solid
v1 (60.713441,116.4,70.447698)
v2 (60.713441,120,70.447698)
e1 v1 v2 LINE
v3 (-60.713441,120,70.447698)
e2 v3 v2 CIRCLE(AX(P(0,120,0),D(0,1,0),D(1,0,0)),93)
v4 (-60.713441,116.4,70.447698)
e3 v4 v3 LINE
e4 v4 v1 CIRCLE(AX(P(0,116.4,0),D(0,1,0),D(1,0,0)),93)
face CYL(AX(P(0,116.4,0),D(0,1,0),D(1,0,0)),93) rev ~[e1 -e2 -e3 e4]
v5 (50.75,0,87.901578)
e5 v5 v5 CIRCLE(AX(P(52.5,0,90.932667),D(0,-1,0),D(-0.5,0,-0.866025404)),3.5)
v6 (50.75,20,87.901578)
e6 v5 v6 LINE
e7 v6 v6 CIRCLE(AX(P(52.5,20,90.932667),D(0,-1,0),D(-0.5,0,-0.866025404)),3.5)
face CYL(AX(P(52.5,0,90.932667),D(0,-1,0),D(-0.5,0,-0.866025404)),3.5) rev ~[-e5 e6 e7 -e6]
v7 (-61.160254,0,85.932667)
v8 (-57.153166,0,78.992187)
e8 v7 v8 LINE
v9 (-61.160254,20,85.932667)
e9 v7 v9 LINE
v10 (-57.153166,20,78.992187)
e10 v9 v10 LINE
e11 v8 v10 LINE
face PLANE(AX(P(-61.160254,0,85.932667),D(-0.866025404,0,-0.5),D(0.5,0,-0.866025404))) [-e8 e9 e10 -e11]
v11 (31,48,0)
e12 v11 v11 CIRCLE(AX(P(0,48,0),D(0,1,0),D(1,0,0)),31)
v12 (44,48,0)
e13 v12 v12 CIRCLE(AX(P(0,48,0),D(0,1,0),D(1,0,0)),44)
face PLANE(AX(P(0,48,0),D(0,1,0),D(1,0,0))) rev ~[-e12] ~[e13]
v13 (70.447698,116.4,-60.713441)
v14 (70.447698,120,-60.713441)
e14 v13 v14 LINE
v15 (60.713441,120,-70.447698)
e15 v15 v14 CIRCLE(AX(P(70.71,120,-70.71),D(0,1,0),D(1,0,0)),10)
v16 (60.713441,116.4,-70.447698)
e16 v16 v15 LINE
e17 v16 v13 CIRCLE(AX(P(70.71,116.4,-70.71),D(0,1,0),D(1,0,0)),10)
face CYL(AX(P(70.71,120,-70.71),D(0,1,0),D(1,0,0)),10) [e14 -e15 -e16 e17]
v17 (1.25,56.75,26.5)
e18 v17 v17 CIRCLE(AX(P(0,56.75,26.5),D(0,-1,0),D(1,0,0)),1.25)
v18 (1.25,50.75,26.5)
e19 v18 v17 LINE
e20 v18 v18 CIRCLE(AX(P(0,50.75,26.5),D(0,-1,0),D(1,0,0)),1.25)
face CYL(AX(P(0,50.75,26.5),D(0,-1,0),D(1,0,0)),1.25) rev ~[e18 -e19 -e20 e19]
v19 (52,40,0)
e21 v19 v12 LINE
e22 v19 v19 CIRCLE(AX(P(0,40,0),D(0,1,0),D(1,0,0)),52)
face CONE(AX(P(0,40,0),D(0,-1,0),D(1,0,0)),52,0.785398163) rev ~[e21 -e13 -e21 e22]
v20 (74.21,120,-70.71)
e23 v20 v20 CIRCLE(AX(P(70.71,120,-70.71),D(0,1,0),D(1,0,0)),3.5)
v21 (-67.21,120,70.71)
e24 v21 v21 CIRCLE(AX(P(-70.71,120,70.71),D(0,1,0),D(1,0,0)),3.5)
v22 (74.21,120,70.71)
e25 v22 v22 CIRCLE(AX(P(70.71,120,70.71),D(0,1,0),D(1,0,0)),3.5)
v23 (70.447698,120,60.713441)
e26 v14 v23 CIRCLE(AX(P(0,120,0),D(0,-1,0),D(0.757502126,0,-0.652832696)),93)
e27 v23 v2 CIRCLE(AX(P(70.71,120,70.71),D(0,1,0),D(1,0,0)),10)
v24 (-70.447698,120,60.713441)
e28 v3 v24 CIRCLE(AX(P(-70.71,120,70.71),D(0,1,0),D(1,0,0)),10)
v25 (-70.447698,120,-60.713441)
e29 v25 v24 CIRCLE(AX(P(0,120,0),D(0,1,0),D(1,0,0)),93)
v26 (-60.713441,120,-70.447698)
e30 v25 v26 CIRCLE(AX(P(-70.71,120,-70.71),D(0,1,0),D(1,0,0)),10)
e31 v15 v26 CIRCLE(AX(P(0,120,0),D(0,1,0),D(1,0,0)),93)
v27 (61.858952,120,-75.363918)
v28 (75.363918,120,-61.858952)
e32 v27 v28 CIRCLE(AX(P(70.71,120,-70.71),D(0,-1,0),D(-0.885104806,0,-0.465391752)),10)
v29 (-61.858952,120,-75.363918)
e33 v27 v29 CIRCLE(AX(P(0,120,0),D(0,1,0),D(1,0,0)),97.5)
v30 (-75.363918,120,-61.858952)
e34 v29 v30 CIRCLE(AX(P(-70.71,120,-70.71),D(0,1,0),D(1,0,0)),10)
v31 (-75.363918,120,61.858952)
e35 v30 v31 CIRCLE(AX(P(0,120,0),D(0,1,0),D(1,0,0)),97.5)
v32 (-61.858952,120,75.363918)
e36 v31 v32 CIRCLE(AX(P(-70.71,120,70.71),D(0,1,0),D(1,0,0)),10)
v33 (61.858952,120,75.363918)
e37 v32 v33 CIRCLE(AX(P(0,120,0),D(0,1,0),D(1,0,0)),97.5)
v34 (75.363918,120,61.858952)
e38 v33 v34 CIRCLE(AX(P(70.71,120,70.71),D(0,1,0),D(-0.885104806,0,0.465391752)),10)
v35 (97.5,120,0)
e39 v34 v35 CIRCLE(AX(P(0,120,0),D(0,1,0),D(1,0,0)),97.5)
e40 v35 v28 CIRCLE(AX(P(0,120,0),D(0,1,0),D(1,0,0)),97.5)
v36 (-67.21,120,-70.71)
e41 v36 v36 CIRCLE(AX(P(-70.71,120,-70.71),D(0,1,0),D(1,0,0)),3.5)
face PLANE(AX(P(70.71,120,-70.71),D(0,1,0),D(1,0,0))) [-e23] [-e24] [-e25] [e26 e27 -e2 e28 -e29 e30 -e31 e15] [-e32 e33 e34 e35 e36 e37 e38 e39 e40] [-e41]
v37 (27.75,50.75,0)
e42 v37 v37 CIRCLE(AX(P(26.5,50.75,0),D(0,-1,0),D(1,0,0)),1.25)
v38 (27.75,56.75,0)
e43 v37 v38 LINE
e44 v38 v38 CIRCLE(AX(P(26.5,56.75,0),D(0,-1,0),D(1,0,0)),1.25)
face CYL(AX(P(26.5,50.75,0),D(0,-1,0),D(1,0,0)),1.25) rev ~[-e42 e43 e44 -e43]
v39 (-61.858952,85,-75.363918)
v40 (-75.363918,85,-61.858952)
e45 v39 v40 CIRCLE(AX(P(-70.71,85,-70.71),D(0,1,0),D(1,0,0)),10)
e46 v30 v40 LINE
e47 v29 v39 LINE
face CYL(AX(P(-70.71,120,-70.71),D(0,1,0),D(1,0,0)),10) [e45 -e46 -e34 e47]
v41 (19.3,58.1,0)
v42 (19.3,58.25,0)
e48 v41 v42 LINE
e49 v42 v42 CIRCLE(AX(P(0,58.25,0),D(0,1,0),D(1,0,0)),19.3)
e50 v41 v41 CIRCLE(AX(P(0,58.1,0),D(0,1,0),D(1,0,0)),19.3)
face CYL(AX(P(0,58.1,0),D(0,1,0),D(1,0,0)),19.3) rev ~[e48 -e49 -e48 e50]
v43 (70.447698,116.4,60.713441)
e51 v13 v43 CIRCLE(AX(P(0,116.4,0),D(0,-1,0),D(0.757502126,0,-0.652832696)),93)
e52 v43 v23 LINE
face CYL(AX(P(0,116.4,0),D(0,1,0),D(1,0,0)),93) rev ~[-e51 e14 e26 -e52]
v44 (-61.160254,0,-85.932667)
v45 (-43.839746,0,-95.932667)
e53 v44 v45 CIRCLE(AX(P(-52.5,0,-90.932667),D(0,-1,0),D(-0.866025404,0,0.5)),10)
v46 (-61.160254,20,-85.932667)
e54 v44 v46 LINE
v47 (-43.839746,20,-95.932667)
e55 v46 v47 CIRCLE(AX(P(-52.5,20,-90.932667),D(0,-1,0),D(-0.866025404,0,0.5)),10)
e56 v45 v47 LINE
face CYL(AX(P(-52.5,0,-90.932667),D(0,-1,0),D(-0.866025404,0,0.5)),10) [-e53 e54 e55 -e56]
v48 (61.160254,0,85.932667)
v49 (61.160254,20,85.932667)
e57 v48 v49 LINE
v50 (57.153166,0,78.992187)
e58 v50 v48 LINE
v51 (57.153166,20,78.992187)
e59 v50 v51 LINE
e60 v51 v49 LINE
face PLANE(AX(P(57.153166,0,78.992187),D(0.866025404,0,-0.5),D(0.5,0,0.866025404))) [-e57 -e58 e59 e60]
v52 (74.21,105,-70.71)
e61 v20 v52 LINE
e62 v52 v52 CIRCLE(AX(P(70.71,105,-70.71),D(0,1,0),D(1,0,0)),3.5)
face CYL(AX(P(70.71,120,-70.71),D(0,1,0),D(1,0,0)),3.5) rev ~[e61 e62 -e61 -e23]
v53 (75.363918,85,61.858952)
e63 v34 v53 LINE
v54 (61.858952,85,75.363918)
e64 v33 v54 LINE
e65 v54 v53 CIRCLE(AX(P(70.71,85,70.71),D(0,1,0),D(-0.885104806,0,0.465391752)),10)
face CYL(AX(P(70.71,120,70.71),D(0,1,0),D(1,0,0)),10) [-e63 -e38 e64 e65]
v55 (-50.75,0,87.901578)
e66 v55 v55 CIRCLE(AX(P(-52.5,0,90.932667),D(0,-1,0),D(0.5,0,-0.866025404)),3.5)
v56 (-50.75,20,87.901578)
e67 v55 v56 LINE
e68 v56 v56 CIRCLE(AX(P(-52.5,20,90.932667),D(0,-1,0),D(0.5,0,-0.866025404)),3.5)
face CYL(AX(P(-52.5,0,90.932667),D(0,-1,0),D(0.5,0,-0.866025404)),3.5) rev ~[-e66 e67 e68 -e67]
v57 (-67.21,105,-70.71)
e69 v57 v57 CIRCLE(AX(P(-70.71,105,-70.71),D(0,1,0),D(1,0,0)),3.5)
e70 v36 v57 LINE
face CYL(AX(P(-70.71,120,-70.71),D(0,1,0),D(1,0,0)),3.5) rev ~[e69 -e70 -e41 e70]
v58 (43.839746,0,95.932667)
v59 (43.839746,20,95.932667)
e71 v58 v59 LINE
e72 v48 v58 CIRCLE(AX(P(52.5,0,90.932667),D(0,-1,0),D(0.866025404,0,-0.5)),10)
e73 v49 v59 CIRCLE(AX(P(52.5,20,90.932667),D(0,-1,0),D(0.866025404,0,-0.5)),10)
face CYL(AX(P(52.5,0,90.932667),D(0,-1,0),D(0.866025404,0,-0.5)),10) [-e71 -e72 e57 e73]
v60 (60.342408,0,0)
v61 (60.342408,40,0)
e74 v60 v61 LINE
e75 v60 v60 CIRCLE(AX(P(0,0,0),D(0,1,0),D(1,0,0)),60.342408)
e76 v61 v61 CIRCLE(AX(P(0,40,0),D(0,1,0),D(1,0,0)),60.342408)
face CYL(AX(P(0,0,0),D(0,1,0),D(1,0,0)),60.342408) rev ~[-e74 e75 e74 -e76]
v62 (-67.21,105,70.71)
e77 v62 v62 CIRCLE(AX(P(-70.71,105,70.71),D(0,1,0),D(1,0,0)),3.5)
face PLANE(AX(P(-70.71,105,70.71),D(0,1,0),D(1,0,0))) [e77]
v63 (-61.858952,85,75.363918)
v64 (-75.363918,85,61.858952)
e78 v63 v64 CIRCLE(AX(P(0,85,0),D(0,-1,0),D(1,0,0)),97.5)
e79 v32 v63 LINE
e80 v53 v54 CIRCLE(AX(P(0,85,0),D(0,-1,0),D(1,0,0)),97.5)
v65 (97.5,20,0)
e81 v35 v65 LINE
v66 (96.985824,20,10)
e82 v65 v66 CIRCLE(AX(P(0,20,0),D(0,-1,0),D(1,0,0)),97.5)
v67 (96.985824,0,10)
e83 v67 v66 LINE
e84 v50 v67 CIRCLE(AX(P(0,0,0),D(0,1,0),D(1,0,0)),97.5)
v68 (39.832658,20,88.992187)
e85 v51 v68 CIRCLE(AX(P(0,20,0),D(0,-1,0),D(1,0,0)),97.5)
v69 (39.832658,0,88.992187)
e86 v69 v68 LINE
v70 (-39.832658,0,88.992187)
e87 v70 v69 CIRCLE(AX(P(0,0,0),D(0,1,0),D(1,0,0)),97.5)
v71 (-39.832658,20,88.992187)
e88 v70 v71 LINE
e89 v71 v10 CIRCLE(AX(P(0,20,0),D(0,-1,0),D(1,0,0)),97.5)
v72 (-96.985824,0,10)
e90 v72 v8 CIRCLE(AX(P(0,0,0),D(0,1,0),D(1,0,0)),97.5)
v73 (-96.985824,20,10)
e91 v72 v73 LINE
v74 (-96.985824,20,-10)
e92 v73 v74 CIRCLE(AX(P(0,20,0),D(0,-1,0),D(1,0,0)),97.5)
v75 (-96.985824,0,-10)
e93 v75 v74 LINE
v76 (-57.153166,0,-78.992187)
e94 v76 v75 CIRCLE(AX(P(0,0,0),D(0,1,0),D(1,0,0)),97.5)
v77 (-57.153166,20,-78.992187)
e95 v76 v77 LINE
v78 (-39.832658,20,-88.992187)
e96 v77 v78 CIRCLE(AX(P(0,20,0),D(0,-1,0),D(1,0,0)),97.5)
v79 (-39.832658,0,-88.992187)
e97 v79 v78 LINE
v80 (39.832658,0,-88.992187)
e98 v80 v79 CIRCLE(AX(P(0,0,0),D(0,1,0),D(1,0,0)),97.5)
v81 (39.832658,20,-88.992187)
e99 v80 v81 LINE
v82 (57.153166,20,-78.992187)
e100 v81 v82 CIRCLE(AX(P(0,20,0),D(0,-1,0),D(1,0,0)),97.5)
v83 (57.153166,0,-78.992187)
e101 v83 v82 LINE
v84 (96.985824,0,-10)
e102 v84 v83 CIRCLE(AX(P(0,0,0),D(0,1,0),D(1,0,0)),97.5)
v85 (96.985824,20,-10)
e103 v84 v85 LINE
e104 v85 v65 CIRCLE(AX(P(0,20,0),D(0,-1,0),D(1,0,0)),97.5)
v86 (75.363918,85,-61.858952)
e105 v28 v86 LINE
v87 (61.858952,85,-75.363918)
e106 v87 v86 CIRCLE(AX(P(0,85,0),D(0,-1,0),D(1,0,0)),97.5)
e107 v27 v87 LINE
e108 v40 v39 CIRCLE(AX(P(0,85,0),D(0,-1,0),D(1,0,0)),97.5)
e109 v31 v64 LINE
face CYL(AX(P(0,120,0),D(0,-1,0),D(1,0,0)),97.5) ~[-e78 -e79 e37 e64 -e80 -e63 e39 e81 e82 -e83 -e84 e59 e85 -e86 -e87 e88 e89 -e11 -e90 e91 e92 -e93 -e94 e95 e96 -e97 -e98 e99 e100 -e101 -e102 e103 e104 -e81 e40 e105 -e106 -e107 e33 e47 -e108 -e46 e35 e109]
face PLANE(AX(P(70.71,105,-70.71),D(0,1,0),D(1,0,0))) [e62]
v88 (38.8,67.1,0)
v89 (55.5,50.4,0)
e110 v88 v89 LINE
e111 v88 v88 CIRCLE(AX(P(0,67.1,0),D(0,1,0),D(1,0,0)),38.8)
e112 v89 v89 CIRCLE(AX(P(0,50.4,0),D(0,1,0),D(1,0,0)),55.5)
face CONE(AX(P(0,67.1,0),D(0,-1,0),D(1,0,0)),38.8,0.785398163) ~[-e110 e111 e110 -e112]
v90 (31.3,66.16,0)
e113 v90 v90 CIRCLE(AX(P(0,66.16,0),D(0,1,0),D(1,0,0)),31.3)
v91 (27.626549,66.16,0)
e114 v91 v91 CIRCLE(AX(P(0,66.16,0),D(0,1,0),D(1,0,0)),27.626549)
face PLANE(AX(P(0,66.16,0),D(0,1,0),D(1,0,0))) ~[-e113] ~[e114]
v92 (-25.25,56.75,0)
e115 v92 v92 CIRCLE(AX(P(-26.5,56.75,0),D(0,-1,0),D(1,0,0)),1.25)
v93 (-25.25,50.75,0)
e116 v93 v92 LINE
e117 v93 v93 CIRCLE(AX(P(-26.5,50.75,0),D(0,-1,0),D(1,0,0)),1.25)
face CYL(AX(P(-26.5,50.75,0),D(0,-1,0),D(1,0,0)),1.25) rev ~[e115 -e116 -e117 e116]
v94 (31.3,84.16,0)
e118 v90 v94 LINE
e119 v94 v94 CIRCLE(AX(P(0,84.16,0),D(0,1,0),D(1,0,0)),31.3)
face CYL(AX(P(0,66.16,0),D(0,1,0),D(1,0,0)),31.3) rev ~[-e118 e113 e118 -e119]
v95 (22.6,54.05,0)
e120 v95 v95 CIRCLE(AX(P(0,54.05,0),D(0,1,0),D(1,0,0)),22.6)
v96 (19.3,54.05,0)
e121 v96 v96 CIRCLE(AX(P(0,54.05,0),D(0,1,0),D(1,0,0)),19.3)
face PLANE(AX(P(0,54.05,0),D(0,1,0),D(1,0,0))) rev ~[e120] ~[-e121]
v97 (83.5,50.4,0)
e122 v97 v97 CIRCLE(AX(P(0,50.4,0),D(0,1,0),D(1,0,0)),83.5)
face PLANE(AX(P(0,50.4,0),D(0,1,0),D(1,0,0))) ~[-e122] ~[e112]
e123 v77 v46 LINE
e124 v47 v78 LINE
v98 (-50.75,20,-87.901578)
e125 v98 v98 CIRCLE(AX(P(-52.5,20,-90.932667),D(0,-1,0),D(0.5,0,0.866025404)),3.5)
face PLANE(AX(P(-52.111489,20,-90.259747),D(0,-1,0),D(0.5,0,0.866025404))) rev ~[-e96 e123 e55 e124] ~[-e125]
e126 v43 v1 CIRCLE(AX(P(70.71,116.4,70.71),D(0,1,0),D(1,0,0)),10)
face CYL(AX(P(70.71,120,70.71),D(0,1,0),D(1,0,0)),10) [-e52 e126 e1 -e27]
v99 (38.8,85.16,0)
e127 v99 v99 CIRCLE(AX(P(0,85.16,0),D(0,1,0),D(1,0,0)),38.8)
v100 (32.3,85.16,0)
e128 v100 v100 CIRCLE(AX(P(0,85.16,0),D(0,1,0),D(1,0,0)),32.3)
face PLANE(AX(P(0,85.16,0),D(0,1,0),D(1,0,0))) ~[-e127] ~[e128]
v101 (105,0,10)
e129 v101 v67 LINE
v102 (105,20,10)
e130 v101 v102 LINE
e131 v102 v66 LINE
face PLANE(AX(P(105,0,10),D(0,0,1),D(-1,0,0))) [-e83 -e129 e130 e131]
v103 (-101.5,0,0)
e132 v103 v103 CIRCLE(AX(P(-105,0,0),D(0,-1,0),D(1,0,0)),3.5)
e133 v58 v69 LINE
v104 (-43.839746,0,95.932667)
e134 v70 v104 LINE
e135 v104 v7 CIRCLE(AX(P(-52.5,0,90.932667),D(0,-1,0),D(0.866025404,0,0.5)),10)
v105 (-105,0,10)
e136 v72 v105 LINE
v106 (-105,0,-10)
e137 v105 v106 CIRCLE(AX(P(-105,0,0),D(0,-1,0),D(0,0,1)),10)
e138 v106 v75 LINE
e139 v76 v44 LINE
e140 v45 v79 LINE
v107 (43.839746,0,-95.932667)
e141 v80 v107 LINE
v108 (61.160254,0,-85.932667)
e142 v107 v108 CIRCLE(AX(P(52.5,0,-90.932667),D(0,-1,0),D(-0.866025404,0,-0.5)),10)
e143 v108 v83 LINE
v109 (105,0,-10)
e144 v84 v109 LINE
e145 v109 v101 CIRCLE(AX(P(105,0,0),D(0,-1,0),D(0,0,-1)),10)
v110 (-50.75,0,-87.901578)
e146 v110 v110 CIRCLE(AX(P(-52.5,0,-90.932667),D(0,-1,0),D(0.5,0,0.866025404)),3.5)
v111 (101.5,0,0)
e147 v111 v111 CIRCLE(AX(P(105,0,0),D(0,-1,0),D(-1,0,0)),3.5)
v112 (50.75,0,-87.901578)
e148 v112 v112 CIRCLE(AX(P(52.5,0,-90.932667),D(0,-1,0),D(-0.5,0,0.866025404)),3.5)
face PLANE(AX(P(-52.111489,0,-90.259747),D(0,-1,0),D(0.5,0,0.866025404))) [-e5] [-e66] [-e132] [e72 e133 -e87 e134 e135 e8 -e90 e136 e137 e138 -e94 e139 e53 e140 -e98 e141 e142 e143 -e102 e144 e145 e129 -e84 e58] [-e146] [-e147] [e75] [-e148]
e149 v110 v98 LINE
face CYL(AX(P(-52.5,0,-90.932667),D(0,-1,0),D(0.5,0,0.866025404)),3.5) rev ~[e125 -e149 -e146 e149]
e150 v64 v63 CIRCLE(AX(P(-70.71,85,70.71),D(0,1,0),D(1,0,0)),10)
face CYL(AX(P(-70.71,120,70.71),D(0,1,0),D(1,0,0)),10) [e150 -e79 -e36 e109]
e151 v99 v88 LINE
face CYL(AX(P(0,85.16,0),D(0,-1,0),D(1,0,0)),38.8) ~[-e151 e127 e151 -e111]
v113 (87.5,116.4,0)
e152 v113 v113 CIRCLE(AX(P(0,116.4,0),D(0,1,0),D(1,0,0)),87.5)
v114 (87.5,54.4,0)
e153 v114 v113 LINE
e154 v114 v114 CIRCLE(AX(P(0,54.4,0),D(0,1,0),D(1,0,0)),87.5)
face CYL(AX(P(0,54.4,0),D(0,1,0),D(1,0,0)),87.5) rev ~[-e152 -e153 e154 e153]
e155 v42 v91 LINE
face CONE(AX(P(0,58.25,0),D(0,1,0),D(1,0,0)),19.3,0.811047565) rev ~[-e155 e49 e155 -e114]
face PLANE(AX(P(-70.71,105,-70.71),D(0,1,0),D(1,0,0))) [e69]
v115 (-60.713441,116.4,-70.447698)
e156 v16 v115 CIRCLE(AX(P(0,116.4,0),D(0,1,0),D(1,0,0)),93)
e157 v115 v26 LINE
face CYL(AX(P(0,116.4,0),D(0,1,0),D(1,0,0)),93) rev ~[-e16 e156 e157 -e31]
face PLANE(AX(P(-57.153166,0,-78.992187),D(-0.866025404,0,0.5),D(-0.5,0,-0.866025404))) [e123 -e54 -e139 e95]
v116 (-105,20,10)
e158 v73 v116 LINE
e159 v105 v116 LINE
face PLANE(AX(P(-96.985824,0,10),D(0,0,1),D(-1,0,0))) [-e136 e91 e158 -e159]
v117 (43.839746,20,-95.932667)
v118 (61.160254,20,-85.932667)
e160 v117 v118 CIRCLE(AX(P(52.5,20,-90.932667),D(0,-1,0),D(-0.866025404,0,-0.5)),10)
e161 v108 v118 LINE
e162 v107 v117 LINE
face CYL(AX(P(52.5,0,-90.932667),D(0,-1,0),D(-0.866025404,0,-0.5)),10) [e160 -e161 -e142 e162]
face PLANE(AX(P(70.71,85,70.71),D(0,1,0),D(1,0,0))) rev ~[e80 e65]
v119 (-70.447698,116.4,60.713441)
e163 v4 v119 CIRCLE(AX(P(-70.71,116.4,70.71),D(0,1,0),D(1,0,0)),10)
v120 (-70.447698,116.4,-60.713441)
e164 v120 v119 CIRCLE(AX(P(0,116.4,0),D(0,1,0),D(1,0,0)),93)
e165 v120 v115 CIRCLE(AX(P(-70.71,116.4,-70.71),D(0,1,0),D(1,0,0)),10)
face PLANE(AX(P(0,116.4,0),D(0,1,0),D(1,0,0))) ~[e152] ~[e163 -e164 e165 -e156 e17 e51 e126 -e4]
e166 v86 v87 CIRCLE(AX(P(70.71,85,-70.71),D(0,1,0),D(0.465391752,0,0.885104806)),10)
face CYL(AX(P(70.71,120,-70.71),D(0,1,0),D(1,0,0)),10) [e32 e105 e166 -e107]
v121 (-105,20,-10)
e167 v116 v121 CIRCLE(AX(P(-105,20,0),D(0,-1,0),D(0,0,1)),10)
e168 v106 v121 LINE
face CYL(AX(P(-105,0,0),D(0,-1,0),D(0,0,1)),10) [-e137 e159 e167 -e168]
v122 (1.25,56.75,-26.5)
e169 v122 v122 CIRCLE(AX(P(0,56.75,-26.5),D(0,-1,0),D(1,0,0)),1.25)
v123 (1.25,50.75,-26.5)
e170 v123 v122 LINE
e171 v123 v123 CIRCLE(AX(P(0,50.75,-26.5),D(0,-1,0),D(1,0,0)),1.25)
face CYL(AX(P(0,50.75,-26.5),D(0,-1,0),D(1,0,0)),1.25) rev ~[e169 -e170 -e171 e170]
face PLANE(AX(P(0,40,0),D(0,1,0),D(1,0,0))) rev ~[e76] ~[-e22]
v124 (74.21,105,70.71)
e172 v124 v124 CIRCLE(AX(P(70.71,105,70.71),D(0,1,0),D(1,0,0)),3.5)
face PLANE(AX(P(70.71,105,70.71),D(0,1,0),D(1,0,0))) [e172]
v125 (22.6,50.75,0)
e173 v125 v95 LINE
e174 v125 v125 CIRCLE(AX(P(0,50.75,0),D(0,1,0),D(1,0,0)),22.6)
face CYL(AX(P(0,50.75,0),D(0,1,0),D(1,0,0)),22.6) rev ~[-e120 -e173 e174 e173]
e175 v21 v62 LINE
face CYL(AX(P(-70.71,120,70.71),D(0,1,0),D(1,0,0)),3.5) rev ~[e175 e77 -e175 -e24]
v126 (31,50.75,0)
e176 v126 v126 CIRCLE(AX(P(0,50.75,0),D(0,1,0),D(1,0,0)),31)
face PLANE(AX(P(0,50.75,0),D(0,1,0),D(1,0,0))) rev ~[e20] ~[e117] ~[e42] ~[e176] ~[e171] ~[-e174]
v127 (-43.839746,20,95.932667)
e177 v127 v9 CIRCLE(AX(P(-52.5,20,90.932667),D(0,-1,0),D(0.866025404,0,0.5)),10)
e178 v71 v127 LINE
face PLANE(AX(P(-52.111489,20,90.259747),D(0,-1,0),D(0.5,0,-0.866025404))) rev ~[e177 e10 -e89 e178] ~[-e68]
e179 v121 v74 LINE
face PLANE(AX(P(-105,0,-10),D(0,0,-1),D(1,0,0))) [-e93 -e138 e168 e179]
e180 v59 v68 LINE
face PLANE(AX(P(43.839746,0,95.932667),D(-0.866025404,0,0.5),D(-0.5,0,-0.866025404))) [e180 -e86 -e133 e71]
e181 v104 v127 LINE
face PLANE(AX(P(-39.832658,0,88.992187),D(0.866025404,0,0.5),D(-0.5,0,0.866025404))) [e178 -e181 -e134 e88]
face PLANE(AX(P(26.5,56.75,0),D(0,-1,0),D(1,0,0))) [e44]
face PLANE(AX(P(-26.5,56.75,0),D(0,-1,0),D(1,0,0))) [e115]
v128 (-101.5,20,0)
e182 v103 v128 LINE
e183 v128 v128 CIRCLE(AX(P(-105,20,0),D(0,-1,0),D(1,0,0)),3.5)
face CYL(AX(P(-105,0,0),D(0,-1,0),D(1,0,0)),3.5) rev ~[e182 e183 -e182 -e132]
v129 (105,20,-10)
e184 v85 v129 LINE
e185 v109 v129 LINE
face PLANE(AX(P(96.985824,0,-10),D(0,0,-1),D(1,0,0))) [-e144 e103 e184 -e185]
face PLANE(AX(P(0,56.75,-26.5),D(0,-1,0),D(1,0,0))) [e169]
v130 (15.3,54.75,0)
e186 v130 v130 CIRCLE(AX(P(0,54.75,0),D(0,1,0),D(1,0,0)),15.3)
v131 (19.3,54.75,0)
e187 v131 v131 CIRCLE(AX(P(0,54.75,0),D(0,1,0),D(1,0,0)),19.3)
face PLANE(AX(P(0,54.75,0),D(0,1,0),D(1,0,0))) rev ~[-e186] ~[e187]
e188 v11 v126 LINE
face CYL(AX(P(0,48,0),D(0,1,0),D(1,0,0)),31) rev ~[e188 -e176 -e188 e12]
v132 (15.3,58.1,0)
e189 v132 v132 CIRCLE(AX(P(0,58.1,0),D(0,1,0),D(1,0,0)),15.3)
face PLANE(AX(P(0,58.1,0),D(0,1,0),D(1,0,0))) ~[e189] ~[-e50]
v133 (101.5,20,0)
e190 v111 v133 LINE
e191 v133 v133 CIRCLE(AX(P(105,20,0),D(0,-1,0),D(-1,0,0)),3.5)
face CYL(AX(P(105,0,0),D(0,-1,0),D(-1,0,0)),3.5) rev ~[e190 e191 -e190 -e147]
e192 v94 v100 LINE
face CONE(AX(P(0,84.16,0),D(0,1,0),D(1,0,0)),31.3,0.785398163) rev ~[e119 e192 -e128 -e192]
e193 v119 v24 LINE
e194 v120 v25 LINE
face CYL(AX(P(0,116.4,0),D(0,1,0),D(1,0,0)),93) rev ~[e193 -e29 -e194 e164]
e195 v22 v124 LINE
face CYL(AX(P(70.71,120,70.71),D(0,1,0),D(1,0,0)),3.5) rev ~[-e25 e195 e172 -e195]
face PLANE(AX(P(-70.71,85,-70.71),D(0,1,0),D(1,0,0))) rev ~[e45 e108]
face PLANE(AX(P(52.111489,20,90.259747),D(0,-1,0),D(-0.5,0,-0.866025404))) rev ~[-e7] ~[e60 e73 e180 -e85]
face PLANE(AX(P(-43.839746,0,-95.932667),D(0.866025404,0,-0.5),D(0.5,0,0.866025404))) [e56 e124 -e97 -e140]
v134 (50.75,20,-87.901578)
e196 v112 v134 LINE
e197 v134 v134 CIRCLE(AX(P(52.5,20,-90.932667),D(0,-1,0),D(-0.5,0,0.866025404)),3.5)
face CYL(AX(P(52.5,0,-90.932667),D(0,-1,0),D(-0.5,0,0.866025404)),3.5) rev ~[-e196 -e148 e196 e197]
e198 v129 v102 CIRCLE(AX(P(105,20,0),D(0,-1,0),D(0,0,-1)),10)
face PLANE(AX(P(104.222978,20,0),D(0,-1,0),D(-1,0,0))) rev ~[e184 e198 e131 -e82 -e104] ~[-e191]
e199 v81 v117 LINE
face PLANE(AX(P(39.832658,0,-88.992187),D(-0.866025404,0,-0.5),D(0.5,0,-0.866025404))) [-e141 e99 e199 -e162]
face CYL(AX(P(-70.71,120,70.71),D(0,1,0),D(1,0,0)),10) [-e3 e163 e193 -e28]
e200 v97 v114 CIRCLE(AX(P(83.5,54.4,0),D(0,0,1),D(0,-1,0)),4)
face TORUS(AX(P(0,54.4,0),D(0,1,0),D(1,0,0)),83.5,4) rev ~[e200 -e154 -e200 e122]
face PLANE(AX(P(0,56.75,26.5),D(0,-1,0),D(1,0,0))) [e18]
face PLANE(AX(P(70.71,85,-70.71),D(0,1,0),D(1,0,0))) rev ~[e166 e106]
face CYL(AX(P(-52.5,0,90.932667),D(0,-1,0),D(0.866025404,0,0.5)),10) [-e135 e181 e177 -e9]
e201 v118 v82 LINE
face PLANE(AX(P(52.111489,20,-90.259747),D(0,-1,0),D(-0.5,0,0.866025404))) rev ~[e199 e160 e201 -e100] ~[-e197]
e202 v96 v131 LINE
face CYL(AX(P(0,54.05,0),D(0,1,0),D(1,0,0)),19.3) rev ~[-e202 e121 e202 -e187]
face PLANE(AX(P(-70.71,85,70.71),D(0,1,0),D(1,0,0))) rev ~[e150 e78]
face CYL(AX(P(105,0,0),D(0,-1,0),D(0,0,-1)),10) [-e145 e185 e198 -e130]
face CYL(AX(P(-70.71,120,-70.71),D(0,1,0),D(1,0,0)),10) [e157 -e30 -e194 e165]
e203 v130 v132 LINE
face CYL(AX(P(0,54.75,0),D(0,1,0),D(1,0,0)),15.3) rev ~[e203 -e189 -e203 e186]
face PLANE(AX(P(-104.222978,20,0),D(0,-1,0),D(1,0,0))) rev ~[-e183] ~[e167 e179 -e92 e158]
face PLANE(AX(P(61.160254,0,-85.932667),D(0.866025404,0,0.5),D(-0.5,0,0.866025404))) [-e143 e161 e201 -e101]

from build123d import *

# Parameters (mm, degrees)
ESBO_O4_R                = 10
RESSALTO_EXTRUS_O1_DEPTH = 35
RESSALTO_EXTRUS_O2_DEPTH = 20
ESBO_O8_R                = 3.5
CORTE_EXTRUS_O2_DEPTH    = 20
PADR_OCIRCULAR1_COUNT    = 6
ESBO_O6_R                = 3.5
CORTE_EXTRUS_O1_DEPTH    = 15
ESBO_O9_R                = 1.25
CORTE_EXTRUS_O3_DEPTH    = 6


with BuildPart() as part:
    # Esboço3 → Revolução2 (revolve)
    with BuildSketch(Plane.XY):
        with BuildLine():
            Line((97.5, 120), (97.5, 11.304491341))
            Line((97.5, 11.304491341), (97.5, 0))
            Line((97.5, 0), (82.842408243, 0))
            Line((82.842408243, 0), (60.342408243, 0))
            Line((60.342408243, 0), (60.342408243, 40))
            Line((60.342408243, 40), (52, 40))
            Line((52, 40), (44, 48))
            Line((44, 48), (31, 48))
            Line((31, 48), (31, 50.75))
            Line((31, 50.75), (22.6, 50.75))
            Line((22.6, 50.75), (22.6, 54.05))
            Line((22.6, 54.05), (19.3, 54.05))
            Line((19.3, 54.05), (19.3, 54.75))
            Line((19.3, 54.75), (15.3, 54.75))
            Line((15.3, 54.75), (15.3, 58.1))
            Line((15.3, 58.1), (19.3, 58.1))
            Line((19.3, 58.1), (19.3, 58.25))
            Line((19.3, 58.25), (27.626549127, 66.16))
            Line((27.626549127, 66.16), (31.3, 66.16))
            Line((31.3, 66.16), (31.3, 84.16))
            Line((31.3, 84.16), (32.3, 85.16))
            Line((32.3, 85.16), (38.8, 85.16))
            Line((38.8, 85.16), (38.8, 67.1))
            Line((38.8, 67.1), (55.5, 50.4))
            Line((55.5, 50.4), (83.5, 50.4))
            ThreePointArc((83.5, 50.4), (86.328427125, 51.571572875), (87.5, 54.4))
            Line((87.5, 54.4), (87.5, 116.4))
            Line((87.5, 116.4), (93, 116.4))
            Line((93, 116.4), (93, 120))
            Line((93, 120), (97.5, 120))
        make_face()
    revolve(axis=Axis((0, -3.631214097, 0), (0, 1, 0)))

    # Esboço4 → Ressalto-extrusão1 (add)
    with BuildSketch(Plane(origin=(0, 120, 0), x_dir=(1, 0, 0), z_dir=(0, 1, 0))):
        with Locations((70.71, 70.71)):
            Circle(ESBO_O4_R)
        with Locations((70.71, -70.71)):
            Circle(ESBO_O4_R)
        with Locations((-70.71, -70.71)):
            Circle(ESBO_O4_R)
        with Locations((-70.71, 70.71)):
            Circle(ESBO_O4_R)
    extrude(amount=-RESSALTO_EXTRUS_O1_DEPTH)

    # Esboço5 → Ressalto-extrusão2 (add)
    with BuildSketch(Plane.XZ):
        with BuildLine():
            Line((-105, -10), (-96.985823706, -10))
            Line((-96.985823706, -10), (-96.985823706, 10))
            Line((-96.985823706, 10), (-105, 10))
            ThreePointArc((-105, 10), (-115, 0), (-105, -10))
        make_face()
    ressalto_extrus_o2 = extrude(amount=-RESSALTO_EXTRUS_O2_DEPTH)

    # Esboço8 → Corte-extrusão2 (cut)
    with BuildSketch(Plane.XZ):
        with Locations((-105, 0)):
            Circle(ESBO_O8_R)
    corte_extrus_o2 = extrude(amount=-CORTE_EXTRUS_O2_DEPTH, mode=Mode.SUBTRACT)

    # PadrãoCircular1: Ressalto-extrusão2, Corte-extrusão2 ×6 about axis
    padr_ocircular1_axis = Axis((0, 0, 0), (0, 1, 0))
    for i in range(1, PADR_OCIRCULAR1_COUNT):
        add(ressalto_extrus_o2.rotate(padr_ocircular1_axis, i * 360 / PADR_OCIRCULAR1_COUNT))
        add(corte_extrus_o2.rotate(padr_ocircular1_axis, i * 360 / PADR_OCIRCULAR1_COUNT), mode=Mode.SUBTRACT)

    # Esboço6 → Corte-extrusão1 (cut)
    with BuildSketch(Plane(origin=(0, 120, 0), x_dir=(1, 0, 0), z_dir=(0, 1, 0))):
        with Locations((-70.71, -70.71)):
            Circle(ESBO_O6_R)
        with Locations((70.71, -70.71)):
            Circle(ESBO_O6_R)
        with Locations((70.71, 70.71)):
            Circle(ESBO_O6_R)
        with Locations((-70.71, 70.71)):
            Circle(ESBO_O6_R)
    extrude(amount=-CORTE_EXTRUS_O1_DEPTH, mode=Mode.SUBTRACT)

    # Esboço9 → Corte-extrusão3 (cut)
    with BuildSketch(Plane.XZ.offset(-50.75)):
        with Locations((0, 26.5)):
            Circle(ESBO_O9_R)
        with Locations((26.5, 0)):
            Circle(ESBO_O9_R)
        with Locations((0, -26.5)):
            Circle(ESBO_O9_R)
        with Locations((-26.5, 0)):
            Circle(ESBO_O9_R)
    extrude(amount=-CORTE_EXTRUS_O3_DEPTH, mode=Mode.SUBTRACT)


solid = part.part
